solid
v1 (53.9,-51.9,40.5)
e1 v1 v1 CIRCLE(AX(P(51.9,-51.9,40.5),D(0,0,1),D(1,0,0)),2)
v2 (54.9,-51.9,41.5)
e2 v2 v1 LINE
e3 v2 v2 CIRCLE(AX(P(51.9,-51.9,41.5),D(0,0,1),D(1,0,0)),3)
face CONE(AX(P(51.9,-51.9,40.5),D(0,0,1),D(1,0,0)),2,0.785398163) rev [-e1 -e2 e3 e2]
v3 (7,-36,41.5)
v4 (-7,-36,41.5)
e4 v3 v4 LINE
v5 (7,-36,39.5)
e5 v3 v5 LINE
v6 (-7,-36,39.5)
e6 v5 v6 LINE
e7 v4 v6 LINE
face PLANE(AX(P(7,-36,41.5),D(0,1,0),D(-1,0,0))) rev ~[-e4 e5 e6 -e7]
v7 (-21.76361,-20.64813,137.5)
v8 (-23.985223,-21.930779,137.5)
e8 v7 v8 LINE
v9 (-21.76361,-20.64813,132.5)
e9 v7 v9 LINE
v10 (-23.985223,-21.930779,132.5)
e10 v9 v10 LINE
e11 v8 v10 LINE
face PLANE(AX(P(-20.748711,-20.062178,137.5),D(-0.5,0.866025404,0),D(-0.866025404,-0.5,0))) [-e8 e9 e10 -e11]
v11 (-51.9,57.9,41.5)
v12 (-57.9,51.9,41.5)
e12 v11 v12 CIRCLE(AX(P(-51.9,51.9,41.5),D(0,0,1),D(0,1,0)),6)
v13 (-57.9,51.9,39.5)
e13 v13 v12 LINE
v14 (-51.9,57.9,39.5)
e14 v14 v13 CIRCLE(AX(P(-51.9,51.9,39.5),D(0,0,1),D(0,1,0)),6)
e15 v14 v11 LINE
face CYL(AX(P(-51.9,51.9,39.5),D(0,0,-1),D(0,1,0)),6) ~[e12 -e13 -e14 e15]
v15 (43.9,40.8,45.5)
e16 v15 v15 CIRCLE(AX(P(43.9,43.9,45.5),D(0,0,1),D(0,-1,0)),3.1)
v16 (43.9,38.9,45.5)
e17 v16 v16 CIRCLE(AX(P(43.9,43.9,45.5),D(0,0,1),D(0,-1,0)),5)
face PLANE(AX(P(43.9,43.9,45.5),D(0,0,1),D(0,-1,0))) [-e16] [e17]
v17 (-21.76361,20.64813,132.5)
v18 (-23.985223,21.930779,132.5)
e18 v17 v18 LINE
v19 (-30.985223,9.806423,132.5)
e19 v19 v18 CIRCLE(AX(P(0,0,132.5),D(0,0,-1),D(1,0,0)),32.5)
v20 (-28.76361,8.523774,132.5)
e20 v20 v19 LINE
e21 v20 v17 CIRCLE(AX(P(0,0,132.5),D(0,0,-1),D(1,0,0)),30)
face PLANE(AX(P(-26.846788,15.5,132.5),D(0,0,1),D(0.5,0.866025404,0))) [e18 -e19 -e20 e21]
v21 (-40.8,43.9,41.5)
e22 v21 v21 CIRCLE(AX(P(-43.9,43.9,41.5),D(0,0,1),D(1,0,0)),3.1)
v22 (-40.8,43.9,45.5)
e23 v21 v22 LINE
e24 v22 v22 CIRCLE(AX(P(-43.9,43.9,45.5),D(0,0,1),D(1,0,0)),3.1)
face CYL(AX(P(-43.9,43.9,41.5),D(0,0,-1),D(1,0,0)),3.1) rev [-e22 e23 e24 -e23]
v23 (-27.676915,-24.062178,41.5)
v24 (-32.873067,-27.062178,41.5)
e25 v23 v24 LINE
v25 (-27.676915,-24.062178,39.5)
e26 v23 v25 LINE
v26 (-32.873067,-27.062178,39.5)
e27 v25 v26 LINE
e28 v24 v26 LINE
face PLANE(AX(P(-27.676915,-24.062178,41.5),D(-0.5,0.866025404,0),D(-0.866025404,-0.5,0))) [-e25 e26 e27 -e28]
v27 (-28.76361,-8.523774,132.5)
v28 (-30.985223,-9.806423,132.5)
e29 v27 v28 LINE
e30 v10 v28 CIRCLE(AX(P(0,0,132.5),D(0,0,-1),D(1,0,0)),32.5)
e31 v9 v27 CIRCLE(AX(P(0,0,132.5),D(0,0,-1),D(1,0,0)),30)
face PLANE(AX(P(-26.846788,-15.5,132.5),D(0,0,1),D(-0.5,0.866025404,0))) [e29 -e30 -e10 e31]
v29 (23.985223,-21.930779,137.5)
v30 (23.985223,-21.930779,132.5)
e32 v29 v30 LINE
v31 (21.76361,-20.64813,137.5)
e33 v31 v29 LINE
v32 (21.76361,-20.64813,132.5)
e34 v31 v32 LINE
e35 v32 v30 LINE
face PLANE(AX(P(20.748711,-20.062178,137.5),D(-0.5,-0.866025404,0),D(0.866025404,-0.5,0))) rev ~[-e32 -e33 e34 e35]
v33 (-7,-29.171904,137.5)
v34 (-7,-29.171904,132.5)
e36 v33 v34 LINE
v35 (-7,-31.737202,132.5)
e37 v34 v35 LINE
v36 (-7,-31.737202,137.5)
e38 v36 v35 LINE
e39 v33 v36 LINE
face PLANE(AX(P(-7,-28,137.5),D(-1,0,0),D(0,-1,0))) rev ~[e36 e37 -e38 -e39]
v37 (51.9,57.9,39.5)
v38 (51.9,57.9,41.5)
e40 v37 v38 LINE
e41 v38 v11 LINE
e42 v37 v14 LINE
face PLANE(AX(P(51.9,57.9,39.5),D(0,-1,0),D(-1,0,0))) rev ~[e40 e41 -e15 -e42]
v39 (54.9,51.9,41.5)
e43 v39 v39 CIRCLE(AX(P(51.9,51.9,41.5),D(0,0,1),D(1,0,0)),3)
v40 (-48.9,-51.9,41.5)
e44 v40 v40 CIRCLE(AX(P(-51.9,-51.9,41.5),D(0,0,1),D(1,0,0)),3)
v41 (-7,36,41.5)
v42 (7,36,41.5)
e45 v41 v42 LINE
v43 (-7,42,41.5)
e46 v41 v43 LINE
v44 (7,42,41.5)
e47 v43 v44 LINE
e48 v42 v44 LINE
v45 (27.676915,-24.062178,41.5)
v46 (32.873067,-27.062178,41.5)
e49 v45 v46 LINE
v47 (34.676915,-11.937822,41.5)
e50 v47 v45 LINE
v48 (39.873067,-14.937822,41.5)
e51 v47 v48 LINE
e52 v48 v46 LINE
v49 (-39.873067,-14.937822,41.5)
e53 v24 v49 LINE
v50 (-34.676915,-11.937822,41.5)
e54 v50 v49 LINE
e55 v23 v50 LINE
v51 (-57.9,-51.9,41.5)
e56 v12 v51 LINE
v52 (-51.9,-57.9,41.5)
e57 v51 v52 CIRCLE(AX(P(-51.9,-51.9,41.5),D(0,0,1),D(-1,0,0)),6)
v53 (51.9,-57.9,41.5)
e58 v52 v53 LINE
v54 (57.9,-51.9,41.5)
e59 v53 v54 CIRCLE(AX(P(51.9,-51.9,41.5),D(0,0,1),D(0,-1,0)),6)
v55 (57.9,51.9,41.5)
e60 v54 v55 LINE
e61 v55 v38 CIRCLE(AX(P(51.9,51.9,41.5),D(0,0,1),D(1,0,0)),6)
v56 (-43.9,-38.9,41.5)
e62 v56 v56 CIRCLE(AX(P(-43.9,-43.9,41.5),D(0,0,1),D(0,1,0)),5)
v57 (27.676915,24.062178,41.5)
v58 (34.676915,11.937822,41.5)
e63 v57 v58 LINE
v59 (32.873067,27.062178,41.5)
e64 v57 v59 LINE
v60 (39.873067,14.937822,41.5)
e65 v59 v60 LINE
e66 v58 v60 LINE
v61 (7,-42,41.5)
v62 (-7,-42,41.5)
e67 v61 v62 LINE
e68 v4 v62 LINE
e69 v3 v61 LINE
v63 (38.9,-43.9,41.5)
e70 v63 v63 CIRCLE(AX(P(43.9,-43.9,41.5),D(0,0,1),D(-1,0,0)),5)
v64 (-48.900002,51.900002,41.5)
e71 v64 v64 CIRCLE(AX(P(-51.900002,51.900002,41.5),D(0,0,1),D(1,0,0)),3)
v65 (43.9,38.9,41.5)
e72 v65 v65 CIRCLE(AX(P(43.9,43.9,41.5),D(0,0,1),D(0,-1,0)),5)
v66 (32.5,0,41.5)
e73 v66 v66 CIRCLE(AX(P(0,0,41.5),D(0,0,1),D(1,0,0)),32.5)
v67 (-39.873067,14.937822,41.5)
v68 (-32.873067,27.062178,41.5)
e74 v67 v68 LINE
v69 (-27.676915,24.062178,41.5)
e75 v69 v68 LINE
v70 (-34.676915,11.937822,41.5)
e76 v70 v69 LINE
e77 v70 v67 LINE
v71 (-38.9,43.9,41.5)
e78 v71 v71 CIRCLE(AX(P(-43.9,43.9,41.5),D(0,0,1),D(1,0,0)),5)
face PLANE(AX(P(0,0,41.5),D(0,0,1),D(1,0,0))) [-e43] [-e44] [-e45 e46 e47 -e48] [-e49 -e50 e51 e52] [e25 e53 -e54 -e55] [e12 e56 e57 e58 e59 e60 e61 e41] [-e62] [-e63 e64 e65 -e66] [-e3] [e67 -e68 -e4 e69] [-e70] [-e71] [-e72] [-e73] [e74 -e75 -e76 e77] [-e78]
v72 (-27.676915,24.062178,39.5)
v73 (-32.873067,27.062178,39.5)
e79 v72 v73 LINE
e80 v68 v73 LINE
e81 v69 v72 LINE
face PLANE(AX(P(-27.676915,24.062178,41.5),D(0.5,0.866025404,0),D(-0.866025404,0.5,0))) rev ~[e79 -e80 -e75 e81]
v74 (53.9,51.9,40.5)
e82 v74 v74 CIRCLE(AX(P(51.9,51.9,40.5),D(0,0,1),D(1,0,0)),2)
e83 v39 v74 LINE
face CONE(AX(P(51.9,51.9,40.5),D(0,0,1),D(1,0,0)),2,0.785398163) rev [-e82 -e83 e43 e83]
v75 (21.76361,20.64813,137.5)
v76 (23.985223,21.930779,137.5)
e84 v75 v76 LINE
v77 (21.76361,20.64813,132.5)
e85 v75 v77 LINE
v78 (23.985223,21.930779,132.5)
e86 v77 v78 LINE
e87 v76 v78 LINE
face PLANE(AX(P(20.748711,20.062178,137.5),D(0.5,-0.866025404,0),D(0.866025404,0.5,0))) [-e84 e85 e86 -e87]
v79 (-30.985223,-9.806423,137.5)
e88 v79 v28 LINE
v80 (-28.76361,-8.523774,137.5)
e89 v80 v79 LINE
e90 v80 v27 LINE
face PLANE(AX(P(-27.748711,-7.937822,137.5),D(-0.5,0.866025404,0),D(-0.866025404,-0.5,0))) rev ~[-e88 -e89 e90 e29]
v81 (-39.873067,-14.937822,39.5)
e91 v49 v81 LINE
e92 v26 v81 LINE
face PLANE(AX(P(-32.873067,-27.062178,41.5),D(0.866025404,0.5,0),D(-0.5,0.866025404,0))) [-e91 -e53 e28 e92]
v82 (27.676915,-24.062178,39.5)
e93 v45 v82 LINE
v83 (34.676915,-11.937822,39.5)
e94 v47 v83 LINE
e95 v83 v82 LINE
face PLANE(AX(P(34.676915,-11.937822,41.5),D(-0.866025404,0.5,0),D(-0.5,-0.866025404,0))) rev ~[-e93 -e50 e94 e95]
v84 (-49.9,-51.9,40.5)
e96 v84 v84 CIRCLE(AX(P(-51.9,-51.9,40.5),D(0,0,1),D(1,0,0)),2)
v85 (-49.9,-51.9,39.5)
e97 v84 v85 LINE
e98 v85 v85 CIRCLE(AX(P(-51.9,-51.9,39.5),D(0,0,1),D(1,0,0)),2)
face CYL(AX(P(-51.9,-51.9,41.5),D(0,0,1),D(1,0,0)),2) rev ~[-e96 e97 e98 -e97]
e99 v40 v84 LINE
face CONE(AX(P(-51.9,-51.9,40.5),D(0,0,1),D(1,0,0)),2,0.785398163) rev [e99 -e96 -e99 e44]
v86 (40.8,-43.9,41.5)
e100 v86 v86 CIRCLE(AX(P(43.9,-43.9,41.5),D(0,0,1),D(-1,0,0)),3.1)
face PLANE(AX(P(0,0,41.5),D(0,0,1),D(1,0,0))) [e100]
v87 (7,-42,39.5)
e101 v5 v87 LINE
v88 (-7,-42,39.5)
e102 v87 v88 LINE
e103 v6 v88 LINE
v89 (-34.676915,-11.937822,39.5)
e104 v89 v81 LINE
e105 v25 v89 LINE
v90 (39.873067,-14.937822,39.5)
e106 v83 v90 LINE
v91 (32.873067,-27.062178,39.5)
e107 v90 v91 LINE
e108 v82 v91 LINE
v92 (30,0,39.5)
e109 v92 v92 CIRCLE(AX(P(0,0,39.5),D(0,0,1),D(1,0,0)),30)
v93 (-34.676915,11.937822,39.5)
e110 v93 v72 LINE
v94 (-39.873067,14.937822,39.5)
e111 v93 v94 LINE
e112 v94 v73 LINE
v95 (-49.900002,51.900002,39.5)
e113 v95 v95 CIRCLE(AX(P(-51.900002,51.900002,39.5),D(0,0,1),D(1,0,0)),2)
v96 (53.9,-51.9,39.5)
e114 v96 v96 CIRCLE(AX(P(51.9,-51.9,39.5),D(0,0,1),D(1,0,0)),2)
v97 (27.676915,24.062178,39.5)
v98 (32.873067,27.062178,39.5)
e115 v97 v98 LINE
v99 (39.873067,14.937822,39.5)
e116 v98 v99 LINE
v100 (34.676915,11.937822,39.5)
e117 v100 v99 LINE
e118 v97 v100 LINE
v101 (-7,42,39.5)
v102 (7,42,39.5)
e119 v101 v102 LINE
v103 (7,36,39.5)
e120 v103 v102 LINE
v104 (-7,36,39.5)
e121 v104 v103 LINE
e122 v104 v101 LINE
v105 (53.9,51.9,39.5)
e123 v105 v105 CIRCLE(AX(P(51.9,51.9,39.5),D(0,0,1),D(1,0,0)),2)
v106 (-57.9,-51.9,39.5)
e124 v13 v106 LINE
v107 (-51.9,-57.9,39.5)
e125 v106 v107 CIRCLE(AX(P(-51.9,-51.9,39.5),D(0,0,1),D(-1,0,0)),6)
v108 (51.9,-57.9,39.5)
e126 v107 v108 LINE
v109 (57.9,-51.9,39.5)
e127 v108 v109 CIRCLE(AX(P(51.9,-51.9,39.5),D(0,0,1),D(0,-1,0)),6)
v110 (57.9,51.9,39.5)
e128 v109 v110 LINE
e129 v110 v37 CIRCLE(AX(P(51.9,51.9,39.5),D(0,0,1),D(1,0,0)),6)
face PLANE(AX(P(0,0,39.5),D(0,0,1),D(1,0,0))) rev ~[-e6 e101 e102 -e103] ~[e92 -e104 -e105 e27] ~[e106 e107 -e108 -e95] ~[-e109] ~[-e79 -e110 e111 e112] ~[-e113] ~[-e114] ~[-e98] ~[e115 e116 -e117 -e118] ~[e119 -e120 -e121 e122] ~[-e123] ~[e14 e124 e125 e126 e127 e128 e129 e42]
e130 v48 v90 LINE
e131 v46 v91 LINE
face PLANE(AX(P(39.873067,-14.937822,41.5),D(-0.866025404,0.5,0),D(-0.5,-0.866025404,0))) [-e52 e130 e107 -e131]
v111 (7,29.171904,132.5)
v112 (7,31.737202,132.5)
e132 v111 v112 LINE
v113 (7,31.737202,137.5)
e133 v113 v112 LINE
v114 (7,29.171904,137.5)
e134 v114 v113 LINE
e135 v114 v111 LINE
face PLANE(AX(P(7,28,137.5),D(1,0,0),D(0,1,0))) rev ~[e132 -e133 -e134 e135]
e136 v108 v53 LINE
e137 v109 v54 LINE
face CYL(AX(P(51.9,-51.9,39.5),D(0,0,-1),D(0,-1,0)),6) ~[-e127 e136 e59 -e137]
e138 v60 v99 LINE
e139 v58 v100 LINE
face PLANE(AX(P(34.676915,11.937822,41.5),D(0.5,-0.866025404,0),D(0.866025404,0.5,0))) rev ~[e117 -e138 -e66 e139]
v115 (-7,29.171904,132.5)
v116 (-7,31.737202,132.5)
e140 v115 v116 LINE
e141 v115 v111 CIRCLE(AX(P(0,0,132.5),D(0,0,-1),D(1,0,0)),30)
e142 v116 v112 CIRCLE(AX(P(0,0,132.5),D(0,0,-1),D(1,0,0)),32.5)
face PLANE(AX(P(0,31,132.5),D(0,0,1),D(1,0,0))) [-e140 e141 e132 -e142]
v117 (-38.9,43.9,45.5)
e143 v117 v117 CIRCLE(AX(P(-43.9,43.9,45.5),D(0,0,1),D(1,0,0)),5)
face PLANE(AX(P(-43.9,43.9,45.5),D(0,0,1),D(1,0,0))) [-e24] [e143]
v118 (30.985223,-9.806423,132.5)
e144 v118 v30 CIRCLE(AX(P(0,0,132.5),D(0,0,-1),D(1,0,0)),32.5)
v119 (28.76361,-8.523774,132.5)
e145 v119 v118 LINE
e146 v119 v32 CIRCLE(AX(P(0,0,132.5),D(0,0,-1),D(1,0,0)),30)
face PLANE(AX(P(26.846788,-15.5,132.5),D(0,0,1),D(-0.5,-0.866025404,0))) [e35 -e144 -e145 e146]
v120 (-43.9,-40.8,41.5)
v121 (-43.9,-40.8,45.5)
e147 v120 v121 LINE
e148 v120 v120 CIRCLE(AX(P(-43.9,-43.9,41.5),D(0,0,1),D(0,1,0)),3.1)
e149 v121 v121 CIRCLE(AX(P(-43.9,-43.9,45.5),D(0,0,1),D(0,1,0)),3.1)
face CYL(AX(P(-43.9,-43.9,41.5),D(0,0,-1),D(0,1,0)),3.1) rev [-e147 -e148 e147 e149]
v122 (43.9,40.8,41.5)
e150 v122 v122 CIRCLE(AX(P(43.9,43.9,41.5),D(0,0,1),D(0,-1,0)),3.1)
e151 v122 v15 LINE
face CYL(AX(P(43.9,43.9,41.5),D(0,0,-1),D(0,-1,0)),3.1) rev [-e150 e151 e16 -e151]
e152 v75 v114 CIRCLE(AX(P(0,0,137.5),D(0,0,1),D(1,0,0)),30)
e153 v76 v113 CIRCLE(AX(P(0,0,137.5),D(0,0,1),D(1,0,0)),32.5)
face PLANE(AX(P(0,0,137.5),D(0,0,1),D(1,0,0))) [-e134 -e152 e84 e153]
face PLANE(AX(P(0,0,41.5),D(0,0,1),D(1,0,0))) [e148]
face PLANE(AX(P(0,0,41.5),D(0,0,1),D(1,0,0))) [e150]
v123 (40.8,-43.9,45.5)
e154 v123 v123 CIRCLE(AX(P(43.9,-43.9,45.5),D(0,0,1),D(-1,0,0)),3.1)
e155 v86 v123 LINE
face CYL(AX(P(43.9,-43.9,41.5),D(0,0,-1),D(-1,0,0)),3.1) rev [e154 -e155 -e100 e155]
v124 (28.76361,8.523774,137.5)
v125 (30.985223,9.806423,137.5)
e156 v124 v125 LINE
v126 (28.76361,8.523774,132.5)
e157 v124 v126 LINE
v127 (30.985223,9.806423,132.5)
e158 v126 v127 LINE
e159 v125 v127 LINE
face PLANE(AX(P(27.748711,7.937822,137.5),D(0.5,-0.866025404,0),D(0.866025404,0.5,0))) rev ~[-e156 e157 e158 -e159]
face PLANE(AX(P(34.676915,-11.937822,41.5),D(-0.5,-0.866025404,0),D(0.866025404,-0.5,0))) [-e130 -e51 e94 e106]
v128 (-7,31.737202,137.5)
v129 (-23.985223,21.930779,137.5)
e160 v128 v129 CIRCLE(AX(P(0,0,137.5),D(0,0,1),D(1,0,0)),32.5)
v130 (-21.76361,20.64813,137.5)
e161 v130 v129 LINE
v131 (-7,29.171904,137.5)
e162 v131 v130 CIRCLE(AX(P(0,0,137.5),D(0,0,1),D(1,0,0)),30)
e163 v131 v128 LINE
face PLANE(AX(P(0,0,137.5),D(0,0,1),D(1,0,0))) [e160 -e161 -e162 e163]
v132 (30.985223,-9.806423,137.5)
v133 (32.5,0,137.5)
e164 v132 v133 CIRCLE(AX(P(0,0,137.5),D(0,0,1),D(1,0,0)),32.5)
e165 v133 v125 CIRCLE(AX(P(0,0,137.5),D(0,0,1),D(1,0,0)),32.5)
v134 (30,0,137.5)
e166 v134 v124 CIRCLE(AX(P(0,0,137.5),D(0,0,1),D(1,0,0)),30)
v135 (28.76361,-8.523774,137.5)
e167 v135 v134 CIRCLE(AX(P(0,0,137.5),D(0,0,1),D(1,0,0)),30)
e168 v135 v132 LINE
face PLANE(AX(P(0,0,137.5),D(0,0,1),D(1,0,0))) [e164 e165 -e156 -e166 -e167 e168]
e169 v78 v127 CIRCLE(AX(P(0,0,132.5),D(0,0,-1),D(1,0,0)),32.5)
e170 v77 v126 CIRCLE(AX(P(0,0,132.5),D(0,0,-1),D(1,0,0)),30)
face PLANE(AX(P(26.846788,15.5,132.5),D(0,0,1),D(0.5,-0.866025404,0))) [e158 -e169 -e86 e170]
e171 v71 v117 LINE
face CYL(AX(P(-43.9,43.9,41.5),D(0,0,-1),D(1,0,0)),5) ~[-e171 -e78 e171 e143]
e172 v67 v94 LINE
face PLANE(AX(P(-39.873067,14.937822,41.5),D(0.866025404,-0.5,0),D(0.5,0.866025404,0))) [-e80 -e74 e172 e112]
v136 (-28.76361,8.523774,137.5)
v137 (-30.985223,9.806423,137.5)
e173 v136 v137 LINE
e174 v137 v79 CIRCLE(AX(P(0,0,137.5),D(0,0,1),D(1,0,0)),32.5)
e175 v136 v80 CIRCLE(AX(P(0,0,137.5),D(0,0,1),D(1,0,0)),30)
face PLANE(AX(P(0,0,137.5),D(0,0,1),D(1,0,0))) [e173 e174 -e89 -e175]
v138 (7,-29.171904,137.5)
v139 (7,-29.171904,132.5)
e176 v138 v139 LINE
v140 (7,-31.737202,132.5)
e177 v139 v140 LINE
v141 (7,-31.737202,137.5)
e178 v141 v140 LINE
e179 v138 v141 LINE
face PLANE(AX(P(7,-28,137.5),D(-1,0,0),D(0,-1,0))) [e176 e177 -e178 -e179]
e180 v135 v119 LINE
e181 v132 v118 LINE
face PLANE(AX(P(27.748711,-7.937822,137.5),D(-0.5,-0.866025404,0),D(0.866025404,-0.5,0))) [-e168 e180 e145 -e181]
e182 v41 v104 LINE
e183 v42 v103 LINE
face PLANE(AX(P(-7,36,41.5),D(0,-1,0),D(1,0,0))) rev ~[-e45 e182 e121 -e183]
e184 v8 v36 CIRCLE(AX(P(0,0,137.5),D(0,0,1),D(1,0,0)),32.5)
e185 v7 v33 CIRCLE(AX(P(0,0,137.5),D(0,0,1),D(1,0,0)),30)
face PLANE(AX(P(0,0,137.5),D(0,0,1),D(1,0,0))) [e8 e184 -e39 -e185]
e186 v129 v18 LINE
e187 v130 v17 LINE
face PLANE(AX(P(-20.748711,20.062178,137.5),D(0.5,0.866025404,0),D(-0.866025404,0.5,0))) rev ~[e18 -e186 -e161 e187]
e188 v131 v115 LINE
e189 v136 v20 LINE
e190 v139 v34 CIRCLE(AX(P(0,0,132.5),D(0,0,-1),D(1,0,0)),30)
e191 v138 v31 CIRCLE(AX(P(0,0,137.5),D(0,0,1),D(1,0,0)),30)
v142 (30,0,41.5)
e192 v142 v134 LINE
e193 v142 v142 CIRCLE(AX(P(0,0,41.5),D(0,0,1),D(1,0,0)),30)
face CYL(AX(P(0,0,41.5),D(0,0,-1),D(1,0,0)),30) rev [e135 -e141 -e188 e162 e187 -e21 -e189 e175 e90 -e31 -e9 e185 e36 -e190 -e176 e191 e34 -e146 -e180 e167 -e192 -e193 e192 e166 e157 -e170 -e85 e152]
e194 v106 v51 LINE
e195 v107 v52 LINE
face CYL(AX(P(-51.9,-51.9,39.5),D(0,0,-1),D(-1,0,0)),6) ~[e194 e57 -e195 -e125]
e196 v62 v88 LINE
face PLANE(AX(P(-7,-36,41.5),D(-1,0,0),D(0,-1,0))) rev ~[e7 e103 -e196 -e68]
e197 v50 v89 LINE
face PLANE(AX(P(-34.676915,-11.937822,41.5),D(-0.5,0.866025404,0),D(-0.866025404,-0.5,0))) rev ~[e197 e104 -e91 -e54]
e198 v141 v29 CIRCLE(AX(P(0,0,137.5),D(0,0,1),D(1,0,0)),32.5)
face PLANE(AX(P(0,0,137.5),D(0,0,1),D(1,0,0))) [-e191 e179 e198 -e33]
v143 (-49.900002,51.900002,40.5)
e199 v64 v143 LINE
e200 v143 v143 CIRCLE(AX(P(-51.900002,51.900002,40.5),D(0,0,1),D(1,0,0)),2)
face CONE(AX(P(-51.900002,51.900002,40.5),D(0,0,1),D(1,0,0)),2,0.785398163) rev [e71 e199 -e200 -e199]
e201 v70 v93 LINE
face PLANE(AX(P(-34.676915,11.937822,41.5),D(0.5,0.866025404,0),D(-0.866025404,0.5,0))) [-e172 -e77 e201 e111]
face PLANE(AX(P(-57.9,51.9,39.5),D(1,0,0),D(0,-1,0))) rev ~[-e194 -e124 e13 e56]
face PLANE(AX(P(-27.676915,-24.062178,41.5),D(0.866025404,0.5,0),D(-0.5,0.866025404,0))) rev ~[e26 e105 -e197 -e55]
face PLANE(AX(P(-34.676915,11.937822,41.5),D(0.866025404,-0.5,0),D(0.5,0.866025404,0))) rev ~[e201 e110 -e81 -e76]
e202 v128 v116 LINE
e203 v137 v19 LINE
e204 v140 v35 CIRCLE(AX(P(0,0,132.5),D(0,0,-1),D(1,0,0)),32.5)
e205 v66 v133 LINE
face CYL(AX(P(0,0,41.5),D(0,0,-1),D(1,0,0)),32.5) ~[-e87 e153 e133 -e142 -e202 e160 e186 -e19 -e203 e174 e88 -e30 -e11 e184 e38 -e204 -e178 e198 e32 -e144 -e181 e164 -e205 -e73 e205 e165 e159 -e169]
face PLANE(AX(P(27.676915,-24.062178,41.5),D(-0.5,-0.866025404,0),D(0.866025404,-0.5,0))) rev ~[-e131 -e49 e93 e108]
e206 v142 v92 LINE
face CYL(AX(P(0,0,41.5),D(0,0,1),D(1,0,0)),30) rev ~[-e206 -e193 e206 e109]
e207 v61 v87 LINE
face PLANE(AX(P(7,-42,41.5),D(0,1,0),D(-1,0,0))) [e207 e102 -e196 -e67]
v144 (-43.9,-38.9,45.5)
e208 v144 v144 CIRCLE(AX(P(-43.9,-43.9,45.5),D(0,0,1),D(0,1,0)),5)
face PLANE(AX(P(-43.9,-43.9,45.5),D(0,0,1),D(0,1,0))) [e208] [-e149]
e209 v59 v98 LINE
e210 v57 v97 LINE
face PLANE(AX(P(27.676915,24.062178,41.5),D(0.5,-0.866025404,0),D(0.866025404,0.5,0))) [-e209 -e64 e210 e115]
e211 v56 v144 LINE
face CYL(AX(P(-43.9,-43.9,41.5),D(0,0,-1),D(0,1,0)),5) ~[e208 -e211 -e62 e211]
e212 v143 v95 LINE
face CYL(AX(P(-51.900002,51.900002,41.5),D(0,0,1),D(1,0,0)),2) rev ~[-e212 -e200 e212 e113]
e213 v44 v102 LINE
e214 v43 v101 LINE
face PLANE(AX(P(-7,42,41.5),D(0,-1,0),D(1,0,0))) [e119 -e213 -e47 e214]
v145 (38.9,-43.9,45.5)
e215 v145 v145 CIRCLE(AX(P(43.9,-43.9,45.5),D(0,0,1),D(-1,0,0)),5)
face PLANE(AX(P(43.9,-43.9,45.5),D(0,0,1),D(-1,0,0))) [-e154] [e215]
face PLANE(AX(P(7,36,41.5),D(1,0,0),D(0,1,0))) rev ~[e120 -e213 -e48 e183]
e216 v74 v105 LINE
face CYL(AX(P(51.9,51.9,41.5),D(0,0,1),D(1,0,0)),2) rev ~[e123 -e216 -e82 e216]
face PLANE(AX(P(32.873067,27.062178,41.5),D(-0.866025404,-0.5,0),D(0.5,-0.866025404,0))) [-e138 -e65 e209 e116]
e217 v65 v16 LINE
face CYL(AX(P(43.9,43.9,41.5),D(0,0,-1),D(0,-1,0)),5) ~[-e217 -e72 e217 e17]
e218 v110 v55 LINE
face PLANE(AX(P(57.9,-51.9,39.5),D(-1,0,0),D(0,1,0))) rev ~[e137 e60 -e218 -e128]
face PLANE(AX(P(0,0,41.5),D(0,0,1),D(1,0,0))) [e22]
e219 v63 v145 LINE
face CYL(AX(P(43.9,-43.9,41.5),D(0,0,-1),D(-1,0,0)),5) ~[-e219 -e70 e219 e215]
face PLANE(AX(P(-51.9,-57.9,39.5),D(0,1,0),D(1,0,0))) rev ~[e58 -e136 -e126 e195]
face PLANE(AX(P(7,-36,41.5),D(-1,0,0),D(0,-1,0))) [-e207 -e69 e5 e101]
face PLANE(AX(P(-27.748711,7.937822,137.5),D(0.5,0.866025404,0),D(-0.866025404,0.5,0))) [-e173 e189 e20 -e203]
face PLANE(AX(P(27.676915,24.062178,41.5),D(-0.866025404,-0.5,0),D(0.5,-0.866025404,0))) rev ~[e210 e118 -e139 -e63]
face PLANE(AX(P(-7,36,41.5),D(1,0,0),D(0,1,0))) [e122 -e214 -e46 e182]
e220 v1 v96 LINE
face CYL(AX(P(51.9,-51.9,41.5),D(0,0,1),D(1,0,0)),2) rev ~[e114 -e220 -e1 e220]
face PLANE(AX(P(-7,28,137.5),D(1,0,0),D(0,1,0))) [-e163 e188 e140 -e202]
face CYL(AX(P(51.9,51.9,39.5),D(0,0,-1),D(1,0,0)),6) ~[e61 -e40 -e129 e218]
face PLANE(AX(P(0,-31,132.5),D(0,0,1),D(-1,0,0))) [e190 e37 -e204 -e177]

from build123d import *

# Parameters (mm, degrees)
PAD013_DEPTH          = 2
SKETCH027_R           = 2
POCKET011_DEPTH       = 2
CHAMFER004_SIZE       = 1
SKETCH028_R           = 30
POCKET012_DEPTH       = 5
SKETCH029_R           = 32.5
SKETCH029_R_2         = 30
PAD014_DEPTH          = 96
SKETCH030_W           = 14
SKETCH030_H           = 6
POCKET013_DEPTH       = 5
POLARPATTERN007_COUNT = 6
SKETCH031_W           = 14
SKETCH031_H           = 6
POCKET014_DEPTH       = 5
POLARPATTERN008_COUNT = 6
SKETCH032_R           = 5
SKETCH032_R_2         = 3.1
PAD015_DEPTH          = 4
POLARPATTERN009_COUNT = 4


with BuildPart() as part:
    # Sketch026 → Pad013 (new body)
    with BuildSketch(Plane.XY):
        with BuildLine():
            Line((-51.9, -57.9), (51.9, -57.9))
            ThreePointArc((51.9, -57.9), (56.1426406871, -56.1426406871), (57.9, -51.9))
            Line((57.9, -51.9), (57.9, 51.9))
            ThreePointArc((57.9, 51.9), (56.1426406871, 56.1426406871), (51.9, 57.9))
            Line((51.9, 57.9), (-51.9, 57.9))
            ThreePointArc((-51.9, 57.9), (-56.1426406871, 56.1426406871), (-57.9, 51.9))
            Line((-57.9, 51.9), (-57.9, -51.9))
            ThreePointArc((-57.9, -51.9), (-56.1426406871, -56.1426406871), (-51.9, -57.9))
        make_face()
    extrude(amount=PAD013_DEPTH)

    # Sketch027 (on Face10 of Pad013) → Pocket011 (cut)
    with BuildSketch(Plane.XY.offset(2)):
        with Locations((-51.900002, 51.900002)):
            Circle(SKETCH027_R)
        with Locations((51.9, 51.9)):
            Circle(SKETCH027_R)
        with Locations((51.9, -51.9)):
            Circle(SKETCH027_R)
        with Locations((-51.9, -51.9)):
            Circle(SKETCH027_R)
    extrude(amount=-POCKET011_DEPTH, mode=Mode.SUBTRACT)

    # Chamfer004
    chamfer004_edges = [part.edges().sort_by_distance(p)[0] for p in [
        (-53.9, -51.9, 2),
        (-53.900002, 51.900002, 2),
        (49.9, 51.9, 2),
        (49.9, -51.9, 2),
    ]]
    chamfer(chamfer004_edges, length=CHAMFER004_SIZE)

    # Sketch028 (on Face1 of Chamfer004) → Pocket012 (cut)
    with BuildSketch(Plane.XY.offset(2)):
        Circle(SKETCH028_R)
    extrude(amount=-POCKET012_DEPTH, mode=Mode.SUBTRACT)

    # Sketch029 (on Face1 of Pocket012) → Pad014 (join)
    with BuildSketch(Plane.XY.offset(2)):
        Circle(SKETCH029_R)
        Circle(SKETCH029_R_2, mode=Mode.SUBTRACT)
    extrude(amount=PAD014_DEPTH)

    # Sketch030 (on Face1 of Pad014) → Pocket013 (cut)
    with BuildSketch(Plane.XY.offset(2)):
        with Locations((0, 39)):
            Rectangle(SKETCH030_W, SKETCH030_H)
    pocket013 = extrude(amount=-POCKET013_DEPTH, mode=Mode.SUBTRACT)

    # PolarPattern007: Pocket013 ×6 about axis
    polarpattern007_axis = Axis((0, 0, 2), (0, 0, 1))
    for i in range(1, POLARPATTERN007_COUNT):
        add(pocket013.rotate(polarpattern007_axis, i * 360 / POLARPATTERN007_COUNT), mode=Mode.SUBTRACT)

    # Sketch031 (on Face42 of PolarPattern007) → Pocket014 (cut)
    with BuildSketch(Plane.XY.offset(98)):
        with Locations((0, 31)):
            Rectangle(SKETCH031_W, SKETCH031_H)
    pocket014 = extrude(amount=-POCKET014_DEPTH, mode=Mode.SUBTRACT)

    # PolarPattern008: Pocket014 ×6 about axis
    polarpattern008_axis = Axis((0, 0, 98), (0, 0, 1))
    for i in range(1, POLARPATTERN008_COUNT):
        add(pocket014.rotate(polarpattern008_axis, i * 360 / POLARPATTERN008_COUNT), mode=Mode.SUBTRACT)

    # Sketch032 (on Face1 of PolarPattern008) → Pad015 (join)
    with BuildSketch(Plane.XY.offset(2)):
        with Locations((-43.9, 43.9)):
            Circle(SKETCH032_R)
        with Locations((-43.9, 43.9)):
            Circle(SKETCH032_R_2, mode=Mode.SUBTRACT)
    pad015 = extrude(amount=PAD015_DEPTH)

    # PolarPattern009: Pad015 ×4 about axis
    polarpattern009_axis = Axis((0, 0, 2), (0, 0, 1))
    for i in range(1, POLARPATTERN009_COUNT):
        add(pad015.rotate(polarpattern009_axis, i * 360 / POLARPATTERN009_COUNT))


with BuildPart() as part_1:
    # Body003 placement: moved
    add(part.part.moved(Location((0, 0, 39.5))))


solid = part_1.part
